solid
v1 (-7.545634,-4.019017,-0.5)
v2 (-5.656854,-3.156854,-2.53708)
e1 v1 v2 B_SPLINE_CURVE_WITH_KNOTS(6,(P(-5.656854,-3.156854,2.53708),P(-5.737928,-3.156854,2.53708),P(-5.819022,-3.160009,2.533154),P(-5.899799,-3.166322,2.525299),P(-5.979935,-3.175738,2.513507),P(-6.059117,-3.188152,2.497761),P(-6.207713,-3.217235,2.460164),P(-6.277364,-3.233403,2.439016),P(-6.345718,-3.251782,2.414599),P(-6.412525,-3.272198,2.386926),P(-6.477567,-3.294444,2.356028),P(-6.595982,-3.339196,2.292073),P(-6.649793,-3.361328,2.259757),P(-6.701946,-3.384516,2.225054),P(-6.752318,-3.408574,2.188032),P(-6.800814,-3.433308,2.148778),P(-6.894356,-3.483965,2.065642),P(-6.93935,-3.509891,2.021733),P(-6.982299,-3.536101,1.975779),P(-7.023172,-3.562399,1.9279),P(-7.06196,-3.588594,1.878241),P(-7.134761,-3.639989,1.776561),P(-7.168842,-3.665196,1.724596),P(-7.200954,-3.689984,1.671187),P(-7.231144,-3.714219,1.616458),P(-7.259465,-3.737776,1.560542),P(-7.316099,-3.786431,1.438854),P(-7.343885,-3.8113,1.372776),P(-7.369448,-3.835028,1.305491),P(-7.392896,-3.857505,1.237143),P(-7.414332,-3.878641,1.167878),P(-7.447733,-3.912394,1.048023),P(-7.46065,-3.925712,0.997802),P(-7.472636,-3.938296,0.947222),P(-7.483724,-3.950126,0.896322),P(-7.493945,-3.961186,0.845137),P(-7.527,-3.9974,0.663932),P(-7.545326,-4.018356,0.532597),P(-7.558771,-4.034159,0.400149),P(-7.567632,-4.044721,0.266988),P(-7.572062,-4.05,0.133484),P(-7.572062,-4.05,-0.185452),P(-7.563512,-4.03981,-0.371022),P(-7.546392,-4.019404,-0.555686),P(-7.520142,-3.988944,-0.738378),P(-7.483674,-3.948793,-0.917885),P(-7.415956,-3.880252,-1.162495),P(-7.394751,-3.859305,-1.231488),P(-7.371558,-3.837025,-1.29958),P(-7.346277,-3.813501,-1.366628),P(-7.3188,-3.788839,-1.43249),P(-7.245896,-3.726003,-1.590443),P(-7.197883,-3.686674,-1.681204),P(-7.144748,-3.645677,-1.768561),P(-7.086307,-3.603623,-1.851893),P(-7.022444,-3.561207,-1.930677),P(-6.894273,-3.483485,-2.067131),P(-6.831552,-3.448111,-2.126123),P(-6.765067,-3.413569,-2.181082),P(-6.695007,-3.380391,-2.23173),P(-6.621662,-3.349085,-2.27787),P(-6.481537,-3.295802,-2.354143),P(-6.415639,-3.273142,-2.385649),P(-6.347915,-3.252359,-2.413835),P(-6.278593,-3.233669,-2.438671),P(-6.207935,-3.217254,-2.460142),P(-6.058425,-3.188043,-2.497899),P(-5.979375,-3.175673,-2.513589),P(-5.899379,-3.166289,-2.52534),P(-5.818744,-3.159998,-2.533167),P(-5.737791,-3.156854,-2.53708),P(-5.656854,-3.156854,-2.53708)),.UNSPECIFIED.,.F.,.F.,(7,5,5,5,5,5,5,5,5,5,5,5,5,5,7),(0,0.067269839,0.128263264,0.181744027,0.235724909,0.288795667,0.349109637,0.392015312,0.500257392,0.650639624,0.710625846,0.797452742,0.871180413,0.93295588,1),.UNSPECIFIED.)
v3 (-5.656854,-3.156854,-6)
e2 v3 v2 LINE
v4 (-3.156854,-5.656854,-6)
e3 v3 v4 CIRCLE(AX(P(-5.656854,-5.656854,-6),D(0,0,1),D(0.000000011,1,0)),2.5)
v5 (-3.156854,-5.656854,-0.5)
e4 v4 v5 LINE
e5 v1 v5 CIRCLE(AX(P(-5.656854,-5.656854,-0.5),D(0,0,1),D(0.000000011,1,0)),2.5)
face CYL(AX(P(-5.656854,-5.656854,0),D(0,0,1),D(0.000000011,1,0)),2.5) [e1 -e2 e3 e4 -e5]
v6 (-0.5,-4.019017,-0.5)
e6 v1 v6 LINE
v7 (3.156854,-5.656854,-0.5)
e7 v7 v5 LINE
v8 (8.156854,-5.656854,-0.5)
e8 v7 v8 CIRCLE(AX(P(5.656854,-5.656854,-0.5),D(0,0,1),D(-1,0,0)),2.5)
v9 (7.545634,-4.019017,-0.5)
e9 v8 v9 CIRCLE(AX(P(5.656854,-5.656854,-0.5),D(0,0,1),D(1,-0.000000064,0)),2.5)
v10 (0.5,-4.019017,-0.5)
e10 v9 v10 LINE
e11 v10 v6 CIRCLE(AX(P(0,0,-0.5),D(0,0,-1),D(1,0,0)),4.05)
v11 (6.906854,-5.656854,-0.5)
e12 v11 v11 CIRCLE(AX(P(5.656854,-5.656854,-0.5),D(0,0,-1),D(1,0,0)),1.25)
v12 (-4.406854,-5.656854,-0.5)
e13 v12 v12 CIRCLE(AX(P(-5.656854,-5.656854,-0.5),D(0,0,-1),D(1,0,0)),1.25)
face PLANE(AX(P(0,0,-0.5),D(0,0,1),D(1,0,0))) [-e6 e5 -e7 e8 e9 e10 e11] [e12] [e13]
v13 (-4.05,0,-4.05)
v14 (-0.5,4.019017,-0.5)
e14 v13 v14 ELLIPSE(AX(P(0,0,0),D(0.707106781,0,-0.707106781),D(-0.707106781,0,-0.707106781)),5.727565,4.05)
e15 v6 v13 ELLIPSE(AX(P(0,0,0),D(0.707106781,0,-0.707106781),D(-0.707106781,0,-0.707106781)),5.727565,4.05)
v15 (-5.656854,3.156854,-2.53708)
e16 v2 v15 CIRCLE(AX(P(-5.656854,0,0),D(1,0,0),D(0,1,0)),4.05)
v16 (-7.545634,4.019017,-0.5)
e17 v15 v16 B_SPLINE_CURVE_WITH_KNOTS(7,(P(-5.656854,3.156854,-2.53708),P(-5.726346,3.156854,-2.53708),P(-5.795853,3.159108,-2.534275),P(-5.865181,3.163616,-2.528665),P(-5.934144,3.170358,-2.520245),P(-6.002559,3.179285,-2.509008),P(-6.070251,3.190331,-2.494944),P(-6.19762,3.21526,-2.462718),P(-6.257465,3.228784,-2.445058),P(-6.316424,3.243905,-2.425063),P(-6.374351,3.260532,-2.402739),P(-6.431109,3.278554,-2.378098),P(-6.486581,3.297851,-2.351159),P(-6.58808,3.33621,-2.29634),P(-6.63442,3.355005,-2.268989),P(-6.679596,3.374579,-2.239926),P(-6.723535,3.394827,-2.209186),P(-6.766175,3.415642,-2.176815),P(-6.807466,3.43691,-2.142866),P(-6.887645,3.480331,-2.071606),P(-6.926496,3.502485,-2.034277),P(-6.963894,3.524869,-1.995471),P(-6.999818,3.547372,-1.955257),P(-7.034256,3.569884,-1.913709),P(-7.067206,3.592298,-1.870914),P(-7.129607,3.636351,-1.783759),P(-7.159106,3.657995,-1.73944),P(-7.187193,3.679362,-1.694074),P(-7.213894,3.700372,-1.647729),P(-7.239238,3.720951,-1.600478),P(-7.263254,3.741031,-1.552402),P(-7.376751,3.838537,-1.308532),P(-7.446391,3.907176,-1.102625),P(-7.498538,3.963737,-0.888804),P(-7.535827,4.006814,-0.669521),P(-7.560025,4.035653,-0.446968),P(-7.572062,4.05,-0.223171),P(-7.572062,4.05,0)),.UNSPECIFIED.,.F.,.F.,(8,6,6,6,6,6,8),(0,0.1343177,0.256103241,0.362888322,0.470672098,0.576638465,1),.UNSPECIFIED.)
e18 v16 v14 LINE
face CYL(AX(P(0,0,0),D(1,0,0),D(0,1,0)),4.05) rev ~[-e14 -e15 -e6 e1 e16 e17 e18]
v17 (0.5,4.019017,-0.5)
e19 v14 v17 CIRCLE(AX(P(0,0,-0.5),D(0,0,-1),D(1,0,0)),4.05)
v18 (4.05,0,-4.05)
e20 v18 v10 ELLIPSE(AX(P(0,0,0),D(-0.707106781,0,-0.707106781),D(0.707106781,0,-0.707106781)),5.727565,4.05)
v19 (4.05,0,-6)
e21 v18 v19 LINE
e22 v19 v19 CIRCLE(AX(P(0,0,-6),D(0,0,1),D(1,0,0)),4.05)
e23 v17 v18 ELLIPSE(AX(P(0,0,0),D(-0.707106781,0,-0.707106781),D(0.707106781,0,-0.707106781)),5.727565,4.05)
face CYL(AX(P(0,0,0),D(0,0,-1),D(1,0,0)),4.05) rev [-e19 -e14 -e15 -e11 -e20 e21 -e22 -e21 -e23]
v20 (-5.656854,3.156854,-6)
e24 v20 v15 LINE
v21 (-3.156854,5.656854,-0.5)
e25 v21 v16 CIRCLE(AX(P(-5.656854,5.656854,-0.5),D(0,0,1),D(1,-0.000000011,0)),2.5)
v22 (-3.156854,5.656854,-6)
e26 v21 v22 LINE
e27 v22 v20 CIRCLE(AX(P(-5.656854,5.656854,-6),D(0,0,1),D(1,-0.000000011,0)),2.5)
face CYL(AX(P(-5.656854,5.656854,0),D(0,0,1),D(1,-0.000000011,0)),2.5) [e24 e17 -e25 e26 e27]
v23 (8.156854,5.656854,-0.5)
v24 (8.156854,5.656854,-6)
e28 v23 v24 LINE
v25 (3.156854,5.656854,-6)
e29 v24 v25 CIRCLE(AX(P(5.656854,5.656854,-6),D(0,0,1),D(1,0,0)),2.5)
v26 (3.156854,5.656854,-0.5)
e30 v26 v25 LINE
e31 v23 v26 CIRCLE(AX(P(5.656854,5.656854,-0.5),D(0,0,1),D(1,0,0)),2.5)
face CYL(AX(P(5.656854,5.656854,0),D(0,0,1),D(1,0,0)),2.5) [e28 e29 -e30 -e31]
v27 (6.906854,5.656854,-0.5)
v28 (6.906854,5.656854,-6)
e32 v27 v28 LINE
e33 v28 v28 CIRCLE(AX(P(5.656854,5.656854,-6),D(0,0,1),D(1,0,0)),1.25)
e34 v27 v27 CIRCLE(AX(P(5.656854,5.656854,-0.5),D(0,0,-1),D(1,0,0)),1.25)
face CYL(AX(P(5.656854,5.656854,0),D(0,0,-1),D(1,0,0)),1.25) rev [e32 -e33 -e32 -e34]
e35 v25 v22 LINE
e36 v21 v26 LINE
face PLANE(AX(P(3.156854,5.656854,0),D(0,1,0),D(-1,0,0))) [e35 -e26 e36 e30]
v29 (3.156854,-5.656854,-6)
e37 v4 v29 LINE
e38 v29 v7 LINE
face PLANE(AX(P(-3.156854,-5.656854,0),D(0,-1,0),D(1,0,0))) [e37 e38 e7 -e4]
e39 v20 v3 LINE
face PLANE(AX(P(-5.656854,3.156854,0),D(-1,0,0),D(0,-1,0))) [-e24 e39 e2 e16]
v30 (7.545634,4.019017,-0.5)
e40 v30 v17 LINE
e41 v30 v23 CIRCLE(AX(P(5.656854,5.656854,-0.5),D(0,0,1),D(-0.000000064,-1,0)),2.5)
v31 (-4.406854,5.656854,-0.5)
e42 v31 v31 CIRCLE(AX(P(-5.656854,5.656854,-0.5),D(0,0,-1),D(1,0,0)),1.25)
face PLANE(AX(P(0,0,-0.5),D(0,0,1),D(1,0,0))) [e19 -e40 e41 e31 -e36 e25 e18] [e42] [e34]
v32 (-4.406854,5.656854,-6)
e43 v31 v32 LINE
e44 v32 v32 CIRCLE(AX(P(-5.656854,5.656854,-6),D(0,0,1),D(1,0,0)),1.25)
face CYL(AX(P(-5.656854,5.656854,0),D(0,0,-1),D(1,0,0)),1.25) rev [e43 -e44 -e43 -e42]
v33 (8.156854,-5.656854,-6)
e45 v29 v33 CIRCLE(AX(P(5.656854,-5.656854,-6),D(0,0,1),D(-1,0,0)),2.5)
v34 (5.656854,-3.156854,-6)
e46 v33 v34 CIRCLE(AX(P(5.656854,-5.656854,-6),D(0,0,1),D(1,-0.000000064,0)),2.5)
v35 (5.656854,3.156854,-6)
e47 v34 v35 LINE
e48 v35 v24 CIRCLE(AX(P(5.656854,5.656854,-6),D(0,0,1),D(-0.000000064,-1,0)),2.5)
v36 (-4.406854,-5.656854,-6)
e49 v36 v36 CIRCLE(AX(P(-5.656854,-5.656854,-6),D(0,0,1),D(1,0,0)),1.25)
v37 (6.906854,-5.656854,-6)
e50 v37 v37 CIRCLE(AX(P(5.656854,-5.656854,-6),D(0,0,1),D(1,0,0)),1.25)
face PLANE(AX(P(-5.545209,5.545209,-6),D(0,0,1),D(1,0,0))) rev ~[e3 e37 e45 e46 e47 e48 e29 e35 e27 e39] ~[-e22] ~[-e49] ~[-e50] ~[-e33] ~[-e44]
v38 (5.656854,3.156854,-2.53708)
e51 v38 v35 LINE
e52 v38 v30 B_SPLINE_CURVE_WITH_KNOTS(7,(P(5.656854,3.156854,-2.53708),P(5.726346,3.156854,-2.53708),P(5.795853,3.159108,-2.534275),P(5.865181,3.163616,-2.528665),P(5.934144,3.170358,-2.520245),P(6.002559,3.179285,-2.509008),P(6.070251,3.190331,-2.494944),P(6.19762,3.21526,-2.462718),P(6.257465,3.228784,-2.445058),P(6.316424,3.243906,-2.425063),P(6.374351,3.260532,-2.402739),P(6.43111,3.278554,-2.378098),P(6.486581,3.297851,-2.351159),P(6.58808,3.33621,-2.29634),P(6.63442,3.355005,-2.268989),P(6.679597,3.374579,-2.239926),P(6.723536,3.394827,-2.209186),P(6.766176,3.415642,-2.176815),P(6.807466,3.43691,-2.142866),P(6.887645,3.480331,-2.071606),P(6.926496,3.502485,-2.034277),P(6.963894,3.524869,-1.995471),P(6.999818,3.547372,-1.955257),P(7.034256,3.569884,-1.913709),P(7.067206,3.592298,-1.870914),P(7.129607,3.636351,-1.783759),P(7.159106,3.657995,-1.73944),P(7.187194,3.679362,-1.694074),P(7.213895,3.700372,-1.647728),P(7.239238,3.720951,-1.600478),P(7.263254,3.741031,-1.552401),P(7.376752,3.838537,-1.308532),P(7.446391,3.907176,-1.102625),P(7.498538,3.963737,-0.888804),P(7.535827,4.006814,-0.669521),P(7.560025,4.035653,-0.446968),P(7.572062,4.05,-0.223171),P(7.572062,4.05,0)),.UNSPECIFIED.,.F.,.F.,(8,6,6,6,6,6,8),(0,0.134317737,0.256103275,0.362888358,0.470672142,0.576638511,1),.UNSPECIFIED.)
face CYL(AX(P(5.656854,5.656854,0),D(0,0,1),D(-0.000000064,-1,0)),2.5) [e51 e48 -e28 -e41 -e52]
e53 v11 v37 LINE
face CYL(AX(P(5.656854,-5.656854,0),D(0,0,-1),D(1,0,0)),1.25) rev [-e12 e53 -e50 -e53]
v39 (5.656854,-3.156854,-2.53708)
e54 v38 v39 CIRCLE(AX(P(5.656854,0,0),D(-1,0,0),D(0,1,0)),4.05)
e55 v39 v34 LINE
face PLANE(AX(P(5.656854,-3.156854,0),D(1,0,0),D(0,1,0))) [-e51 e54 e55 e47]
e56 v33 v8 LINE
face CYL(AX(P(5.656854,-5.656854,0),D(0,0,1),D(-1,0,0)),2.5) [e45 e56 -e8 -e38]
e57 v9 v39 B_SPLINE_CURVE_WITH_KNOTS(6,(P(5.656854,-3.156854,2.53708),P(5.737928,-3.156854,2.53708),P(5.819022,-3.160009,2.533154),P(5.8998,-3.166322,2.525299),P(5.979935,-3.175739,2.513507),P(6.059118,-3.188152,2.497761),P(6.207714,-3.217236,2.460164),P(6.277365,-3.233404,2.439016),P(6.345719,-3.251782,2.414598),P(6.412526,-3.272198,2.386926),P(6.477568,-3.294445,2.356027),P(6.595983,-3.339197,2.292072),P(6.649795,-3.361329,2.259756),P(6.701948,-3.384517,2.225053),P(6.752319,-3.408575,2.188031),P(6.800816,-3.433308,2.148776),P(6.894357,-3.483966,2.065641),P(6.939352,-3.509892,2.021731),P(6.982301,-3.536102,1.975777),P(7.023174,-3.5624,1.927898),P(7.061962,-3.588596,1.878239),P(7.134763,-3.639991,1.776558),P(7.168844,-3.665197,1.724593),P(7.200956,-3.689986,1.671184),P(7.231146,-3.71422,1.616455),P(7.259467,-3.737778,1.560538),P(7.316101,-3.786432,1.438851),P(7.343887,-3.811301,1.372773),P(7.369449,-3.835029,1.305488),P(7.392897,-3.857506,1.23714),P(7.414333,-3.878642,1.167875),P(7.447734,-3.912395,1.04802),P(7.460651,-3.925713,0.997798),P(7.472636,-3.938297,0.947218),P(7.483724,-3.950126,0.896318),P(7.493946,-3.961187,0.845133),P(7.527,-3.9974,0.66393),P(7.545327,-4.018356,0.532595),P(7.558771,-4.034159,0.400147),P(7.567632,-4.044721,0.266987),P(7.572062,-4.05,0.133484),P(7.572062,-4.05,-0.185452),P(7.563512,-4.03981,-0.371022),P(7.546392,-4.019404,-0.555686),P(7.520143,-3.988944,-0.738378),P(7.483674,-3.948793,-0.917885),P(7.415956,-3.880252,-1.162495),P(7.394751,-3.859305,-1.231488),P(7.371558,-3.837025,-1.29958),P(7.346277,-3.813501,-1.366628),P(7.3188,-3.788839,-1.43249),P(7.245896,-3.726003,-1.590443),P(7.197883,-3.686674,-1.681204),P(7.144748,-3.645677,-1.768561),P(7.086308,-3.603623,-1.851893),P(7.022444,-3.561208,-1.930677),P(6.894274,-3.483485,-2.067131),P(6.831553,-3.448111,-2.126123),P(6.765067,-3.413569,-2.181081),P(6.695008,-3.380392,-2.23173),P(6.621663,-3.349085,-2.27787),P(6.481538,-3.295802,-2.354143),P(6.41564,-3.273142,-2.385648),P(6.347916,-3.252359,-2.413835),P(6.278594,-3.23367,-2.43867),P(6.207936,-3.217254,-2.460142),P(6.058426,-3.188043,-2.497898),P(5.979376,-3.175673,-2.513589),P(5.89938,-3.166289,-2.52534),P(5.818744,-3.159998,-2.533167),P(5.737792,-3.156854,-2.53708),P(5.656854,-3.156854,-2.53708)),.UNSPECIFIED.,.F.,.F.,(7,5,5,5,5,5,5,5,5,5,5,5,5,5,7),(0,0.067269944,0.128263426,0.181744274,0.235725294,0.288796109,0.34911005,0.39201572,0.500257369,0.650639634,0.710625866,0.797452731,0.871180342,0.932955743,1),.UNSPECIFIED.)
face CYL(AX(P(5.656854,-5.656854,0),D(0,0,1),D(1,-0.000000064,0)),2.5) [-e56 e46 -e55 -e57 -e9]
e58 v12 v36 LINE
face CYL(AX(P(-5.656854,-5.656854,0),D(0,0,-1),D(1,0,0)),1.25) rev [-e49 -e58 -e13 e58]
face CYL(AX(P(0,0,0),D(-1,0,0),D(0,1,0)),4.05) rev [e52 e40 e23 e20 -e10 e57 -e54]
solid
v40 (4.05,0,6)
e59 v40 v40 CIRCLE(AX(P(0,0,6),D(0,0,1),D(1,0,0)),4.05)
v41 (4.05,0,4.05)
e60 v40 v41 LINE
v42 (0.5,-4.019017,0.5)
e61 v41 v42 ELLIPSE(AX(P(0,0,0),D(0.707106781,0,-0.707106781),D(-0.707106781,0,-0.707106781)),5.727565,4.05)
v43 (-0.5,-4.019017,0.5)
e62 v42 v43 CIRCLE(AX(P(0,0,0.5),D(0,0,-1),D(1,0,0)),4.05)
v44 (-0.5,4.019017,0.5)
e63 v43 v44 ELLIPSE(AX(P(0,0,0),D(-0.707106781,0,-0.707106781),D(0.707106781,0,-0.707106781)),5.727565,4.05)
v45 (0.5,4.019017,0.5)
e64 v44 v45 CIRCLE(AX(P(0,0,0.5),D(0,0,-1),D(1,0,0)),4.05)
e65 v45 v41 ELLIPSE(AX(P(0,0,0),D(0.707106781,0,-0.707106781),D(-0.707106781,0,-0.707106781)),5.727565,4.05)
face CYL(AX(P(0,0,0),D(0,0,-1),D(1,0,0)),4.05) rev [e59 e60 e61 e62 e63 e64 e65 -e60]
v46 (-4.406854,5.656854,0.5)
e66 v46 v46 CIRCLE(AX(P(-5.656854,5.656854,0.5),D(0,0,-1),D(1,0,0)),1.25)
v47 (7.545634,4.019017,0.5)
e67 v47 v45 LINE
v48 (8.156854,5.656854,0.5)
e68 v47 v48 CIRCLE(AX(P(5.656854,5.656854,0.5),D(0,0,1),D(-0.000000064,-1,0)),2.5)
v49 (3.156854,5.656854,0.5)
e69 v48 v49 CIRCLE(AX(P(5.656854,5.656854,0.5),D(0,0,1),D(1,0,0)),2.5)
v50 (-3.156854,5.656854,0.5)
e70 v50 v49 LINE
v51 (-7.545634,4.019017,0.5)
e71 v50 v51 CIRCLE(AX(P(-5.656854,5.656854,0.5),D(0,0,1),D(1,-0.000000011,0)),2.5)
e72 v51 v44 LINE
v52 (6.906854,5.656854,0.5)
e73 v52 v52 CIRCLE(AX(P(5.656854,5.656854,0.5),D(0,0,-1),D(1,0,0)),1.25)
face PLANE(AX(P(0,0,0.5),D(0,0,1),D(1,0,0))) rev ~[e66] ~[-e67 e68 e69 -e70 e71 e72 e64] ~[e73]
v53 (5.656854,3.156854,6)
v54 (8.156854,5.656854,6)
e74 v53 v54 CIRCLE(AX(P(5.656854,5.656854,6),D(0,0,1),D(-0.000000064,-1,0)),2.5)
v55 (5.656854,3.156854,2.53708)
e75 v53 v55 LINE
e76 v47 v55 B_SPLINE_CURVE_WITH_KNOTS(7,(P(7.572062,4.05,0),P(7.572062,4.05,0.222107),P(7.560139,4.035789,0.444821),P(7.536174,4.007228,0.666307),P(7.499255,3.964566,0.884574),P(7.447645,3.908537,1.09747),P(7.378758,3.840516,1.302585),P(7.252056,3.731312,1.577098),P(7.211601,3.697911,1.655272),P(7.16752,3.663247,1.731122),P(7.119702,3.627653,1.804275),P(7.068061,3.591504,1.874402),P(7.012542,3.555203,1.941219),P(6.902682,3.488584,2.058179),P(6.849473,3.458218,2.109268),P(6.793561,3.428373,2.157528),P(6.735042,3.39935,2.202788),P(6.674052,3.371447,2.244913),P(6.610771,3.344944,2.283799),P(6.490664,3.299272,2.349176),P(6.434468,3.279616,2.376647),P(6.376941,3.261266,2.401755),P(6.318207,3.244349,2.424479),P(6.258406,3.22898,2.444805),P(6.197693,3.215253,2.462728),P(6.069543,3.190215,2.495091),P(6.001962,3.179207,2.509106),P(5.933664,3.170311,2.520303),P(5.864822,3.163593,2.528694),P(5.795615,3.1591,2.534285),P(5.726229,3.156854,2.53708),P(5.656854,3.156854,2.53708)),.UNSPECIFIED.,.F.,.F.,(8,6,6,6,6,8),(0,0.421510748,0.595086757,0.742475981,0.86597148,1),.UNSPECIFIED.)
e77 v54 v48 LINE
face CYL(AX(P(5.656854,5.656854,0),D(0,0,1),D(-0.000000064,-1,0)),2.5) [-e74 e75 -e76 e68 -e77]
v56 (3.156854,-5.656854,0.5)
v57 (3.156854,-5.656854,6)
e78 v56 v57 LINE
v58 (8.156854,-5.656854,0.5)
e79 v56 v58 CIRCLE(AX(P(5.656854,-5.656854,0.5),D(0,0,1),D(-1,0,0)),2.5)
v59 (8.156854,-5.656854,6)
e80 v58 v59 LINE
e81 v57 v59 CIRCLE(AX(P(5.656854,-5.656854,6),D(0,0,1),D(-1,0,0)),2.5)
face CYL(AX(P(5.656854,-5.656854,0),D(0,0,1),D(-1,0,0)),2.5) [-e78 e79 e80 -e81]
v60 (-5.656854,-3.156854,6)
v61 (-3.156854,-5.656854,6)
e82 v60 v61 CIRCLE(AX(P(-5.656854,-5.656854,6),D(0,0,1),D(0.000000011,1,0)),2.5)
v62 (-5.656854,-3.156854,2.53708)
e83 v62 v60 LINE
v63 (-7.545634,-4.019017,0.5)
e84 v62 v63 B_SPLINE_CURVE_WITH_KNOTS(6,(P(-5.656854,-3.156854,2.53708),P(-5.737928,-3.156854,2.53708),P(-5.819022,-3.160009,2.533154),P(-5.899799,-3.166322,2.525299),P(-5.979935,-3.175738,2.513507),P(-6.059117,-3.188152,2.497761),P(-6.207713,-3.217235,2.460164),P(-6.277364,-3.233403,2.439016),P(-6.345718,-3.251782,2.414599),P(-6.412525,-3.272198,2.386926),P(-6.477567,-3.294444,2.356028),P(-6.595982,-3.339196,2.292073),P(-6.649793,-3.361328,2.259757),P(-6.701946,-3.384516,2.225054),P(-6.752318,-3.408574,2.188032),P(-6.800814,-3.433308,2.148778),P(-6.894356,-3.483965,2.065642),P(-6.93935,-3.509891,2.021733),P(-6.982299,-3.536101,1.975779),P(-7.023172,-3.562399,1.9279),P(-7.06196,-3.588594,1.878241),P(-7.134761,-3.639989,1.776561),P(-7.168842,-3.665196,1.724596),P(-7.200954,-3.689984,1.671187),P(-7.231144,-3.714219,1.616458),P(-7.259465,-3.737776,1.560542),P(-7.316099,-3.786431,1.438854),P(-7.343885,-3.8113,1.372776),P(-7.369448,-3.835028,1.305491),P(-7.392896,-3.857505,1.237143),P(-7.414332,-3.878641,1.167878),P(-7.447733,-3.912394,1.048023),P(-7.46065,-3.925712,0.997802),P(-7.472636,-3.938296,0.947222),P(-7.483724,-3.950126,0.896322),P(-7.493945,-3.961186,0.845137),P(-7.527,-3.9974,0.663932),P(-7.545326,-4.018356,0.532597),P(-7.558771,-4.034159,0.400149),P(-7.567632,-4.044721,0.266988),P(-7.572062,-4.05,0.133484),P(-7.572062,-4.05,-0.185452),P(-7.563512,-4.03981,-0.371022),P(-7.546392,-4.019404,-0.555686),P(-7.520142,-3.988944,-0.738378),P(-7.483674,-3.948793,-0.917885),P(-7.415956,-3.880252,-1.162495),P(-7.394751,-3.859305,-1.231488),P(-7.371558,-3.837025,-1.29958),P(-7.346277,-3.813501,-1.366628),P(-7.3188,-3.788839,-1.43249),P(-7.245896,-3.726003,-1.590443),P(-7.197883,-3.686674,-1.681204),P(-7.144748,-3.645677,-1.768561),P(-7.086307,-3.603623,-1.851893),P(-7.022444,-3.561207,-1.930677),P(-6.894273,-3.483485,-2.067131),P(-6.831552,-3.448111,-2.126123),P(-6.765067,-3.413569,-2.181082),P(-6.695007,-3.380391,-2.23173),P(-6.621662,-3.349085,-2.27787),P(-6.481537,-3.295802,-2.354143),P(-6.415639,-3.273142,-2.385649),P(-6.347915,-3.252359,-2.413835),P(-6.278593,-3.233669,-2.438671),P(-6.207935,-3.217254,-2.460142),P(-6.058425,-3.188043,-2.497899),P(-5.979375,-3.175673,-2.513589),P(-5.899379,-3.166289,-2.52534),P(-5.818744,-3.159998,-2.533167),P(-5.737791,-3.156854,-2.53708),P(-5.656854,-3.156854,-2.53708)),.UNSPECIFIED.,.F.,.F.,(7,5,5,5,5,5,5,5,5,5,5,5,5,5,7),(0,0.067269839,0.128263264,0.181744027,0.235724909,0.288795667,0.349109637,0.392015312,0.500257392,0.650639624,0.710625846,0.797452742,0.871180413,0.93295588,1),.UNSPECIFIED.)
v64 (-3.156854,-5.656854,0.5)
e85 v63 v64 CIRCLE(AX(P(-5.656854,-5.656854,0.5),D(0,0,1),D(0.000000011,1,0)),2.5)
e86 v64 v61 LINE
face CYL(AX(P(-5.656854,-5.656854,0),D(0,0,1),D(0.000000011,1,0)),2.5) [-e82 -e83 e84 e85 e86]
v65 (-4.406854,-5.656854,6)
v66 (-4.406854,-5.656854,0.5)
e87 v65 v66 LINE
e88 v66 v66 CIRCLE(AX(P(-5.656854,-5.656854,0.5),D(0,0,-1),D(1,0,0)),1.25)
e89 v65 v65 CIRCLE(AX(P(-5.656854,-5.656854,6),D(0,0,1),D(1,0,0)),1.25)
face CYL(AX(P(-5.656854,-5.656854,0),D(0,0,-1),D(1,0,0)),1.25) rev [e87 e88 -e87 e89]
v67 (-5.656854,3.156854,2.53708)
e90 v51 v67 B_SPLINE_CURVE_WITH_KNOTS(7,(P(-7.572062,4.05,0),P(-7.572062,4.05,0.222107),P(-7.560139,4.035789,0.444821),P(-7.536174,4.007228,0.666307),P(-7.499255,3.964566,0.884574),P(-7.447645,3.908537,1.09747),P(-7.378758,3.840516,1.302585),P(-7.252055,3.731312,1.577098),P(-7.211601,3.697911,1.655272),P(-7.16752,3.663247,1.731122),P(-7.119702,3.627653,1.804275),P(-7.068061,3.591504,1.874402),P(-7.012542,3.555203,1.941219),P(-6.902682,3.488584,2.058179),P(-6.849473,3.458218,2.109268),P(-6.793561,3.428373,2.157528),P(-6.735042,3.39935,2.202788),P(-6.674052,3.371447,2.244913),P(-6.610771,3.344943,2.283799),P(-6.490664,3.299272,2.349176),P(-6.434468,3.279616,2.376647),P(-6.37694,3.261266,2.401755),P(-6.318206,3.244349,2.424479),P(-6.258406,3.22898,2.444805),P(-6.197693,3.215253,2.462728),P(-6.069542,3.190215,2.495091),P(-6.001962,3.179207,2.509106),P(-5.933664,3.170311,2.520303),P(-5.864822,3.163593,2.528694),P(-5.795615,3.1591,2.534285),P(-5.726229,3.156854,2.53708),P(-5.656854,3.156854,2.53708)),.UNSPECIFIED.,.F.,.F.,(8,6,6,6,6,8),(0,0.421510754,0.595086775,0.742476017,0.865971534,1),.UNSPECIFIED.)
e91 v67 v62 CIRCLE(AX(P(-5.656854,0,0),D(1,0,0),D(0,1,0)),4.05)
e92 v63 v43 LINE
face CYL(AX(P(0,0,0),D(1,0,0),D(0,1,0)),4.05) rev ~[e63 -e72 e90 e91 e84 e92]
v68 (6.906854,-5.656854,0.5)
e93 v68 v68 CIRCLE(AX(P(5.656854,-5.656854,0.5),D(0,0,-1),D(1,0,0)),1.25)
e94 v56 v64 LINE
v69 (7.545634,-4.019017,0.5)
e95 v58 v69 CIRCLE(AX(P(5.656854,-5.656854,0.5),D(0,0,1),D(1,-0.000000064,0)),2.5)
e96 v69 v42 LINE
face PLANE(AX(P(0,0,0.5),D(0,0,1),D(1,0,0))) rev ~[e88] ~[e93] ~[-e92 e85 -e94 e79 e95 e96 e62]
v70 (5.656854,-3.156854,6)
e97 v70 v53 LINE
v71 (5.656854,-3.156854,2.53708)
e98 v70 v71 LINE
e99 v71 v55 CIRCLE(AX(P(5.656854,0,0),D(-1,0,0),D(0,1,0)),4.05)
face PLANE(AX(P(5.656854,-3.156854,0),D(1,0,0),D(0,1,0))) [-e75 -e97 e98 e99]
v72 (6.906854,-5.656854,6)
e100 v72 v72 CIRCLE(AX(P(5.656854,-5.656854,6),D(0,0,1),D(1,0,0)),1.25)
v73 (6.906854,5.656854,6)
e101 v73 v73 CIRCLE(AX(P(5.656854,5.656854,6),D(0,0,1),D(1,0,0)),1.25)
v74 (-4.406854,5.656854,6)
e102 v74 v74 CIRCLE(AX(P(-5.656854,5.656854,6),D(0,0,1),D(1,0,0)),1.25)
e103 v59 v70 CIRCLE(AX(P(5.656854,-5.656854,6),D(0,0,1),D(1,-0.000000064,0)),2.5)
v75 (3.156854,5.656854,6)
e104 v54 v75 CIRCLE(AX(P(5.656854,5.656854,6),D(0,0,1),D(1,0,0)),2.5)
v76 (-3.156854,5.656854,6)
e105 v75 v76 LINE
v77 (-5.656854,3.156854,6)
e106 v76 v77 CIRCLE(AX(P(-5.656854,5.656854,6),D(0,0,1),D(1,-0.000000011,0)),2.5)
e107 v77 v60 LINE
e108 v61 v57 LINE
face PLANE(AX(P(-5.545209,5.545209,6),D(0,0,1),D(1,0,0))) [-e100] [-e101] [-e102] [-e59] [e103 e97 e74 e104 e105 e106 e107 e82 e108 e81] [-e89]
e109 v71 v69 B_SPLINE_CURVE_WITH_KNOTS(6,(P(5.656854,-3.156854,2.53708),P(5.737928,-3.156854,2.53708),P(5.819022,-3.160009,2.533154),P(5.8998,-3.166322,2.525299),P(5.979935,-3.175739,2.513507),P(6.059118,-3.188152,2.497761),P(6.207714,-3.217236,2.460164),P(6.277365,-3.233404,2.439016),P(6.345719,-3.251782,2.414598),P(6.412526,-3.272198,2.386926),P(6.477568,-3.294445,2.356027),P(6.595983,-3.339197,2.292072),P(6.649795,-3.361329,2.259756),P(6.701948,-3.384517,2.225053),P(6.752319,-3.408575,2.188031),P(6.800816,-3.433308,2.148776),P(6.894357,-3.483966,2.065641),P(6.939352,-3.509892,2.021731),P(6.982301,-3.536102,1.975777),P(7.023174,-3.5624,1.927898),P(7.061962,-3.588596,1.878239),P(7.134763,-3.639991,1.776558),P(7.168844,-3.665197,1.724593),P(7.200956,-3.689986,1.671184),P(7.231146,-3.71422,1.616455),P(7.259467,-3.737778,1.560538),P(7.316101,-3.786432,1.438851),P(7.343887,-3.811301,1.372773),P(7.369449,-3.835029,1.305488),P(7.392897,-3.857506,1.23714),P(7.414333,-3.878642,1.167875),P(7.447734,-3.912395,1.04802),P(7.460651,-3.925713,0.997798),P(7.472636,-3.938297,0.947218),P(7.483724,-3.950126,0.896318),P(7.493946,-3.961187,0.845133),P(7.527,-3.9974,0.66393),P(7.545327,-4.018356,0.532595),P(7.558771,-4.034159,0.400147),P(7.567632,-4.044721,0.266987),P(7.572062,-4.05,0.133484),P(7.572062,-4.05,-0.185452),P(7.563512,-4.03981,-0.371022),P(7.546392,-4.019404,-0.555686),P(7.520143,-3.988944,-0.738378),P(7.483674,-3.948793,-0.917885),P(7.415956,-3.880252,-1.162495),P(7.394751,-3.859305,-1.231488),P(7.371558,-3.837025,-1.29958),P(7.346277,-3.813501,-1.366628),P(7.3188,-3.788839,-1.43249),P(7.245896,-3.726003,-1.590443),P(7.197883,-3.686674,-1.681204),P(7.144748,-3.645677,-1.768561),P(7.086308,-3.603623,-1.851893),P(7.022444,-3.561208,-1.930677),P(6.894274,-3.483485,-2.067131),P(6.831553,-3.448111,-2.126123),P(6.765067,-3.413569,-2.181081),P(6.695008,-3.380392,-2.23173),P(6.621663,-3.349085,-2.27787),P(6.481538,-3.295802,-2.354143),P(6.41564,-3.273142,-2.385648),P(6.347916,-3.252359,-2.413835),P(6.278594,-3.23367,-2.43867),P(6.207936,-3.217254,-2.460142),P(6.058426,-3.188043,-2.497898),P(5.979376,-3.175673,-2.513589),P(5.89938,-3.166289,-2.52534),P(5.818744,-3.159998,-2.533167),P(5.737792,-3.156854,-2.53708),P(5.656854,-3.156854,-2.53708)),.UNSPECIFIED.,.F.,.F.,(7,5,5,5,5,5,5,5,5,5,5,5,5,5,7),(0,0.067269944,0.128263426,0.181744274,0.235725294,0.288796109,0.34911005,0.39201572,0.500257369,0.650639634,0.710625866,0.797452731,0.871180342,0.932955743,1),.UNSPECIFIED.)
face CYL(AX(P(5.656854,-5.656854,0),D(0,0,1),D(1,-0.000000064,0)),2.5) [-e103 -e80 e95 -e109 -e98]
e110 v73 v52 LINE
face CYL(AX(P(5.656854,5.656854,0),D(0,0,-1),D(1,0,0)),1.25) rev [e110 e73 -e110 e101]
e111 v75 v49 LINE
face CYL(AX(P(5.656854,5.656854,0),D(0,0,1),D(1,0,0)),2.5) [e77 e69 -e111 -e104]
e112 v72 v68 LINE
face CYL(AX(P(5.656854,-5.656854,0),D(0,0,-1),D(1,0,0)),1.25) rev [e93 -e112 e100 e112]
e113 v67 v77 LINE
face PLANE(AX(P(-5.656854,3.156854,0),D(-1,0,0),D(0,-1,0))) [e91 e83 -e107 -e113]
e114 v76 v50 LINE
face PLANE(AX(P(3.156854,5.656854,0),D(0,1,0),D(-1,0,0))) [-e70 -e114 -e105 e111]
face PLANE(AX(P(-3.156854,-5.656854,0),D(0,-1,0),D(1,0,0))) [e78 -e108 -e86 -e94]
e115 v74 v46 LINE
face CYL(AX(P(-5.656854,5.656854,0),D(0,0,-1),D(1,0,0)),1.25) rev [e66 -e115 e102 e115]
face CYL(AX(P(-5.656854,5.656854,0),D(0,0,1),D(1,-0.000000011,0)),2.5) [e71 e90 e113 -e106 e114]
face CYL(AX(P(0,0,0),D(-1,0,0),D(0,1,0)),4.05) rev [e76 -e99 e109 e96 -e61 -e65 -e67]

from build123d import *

# Parameters (mm, degrees)
F0_R          = 1.25
F0_R_2        = 4.05
F1_DEPTH      = 6
F2_R          = 4.05
F3_DEPTH      = 8.157854
F3_DEPTH_BACK = 8.157854
F4_W          = 27.181234
F4_H          = 24.001454
F5_DEPTH      = 0.5


with BuildPart() as f1:
    # F0 (on Top) → F1 (new body, symmetric)
    with BuildSketch(Plane.XY):
        with BuildLine():
            ThreePointArc((-5.656854, 3.156854), (-3.889087, 3.889087), (-3.156854, 5.656854))
            ThreePointArc((-3.156854, 5.656854), (-7.424621, 7.424621), (-5.656854, 3.156854))
        make_face()
        with Locations((-5.656854, 5.656854)):
            Circle(F0_R, mode=Mode.SUBTRACT)
        with BuildLine():
            Line((3.156854, 5.656854), (-3.156854, 5.656854))
            ThreePointArc((-3.156854, 5.656854), (-3.889087, 3.889087), (-5.656854, 3.156854))
            Line((-5.656854, 3.156854), (-5.656854, -3.156854))
            ThreePointArc((-5.656854, -3.156854), (-3.889087, -3.889087), (-3.156854, -5.656854))
            Line((-3.156854, -5.656854), (3.156854, -5.656854))
            ThreePointArc((3.156854, -5.656854), (3.889087, -3.889087), (5.656854, -3.156854))
            Line((5.656854, -3.156854), (5.656854, 3.156854))
            ThreePointArc((5.656854, 3.156854), (3.889087, 3.889087), (3.156854, 5.656854))
        make_face()
        Circle(F0_R_2, mode=Mode.SUBTRACT)
        with BuildLine():
            ThreePointArc((8.156854, 5.656854), (5.656854, 8.156854), (3.156854, 5.656854))
            ThreePointArc((3.156854, 5.656854), (3.889087, 3.889087), (5.656854, 3.156854))
            ThreePointArc((5.656854, 3.156854), (7.424621, 3.889087), (8.156854, 5.656854))
        make_face()
        with Locations((5.656854, 5.656854)):
            Circle(F0_R, mode=Mode.SUBTRACT)
        with BuildLine():
            ThreePointArc((-3.156854, -5.656854), (-3.889087, -3.889087), (-5.656854, -3.156854))
            ThreePointArc((-5.656854, -3.156854), (-7.424621, -7.424621), (-3.156854, -5.656854))
        make_face()
        with Locations((-5.656854, -5.656854)):
            Circle(F0_R, mode=Mode.SUBTRACT)
        with BuildLine():
            ThreePointArc((8.156854, -5.656854), (7.424621, -3.889087), (5.656854, -3.156854))
            ThreePointArc((5.656854, -3.156854), (3.889087, -3.889087), (3.156854, -5.656854))
            ThreePointArc((3.156854, -5.656854), (5.656854, -8.156854), (8.156854, -5.656854))
        make_face()
        with Locations((5.656854, -5.656854)):
            Circle(F0_R, mode=Mode.SUBTRACT)
    extrude(amount=F1_DEPTH, both=True)

    # F2 (on Right) → F3 (cut, two sides)
    with BuildSketch(Plane.YZ) as f3_sk:
        Circle(F2_R)
    extrude(amount=F3_DEPTH, mode=Mode.SUBTRACT)
    extrude(f3_sk.sketch, amount=-F3_DEPTH_BACK, mode=Mode.SUBTRACT)

    # F4 (on Top) → F5 (cut, symmetric)
    with BuildSketch(Plane.XY):
        Rectangle(F4_W, F4_H)
    extrude(amount=F5_DEPTH, both=True, mode=Mode.SUBTRACT)


solid = f1.part
